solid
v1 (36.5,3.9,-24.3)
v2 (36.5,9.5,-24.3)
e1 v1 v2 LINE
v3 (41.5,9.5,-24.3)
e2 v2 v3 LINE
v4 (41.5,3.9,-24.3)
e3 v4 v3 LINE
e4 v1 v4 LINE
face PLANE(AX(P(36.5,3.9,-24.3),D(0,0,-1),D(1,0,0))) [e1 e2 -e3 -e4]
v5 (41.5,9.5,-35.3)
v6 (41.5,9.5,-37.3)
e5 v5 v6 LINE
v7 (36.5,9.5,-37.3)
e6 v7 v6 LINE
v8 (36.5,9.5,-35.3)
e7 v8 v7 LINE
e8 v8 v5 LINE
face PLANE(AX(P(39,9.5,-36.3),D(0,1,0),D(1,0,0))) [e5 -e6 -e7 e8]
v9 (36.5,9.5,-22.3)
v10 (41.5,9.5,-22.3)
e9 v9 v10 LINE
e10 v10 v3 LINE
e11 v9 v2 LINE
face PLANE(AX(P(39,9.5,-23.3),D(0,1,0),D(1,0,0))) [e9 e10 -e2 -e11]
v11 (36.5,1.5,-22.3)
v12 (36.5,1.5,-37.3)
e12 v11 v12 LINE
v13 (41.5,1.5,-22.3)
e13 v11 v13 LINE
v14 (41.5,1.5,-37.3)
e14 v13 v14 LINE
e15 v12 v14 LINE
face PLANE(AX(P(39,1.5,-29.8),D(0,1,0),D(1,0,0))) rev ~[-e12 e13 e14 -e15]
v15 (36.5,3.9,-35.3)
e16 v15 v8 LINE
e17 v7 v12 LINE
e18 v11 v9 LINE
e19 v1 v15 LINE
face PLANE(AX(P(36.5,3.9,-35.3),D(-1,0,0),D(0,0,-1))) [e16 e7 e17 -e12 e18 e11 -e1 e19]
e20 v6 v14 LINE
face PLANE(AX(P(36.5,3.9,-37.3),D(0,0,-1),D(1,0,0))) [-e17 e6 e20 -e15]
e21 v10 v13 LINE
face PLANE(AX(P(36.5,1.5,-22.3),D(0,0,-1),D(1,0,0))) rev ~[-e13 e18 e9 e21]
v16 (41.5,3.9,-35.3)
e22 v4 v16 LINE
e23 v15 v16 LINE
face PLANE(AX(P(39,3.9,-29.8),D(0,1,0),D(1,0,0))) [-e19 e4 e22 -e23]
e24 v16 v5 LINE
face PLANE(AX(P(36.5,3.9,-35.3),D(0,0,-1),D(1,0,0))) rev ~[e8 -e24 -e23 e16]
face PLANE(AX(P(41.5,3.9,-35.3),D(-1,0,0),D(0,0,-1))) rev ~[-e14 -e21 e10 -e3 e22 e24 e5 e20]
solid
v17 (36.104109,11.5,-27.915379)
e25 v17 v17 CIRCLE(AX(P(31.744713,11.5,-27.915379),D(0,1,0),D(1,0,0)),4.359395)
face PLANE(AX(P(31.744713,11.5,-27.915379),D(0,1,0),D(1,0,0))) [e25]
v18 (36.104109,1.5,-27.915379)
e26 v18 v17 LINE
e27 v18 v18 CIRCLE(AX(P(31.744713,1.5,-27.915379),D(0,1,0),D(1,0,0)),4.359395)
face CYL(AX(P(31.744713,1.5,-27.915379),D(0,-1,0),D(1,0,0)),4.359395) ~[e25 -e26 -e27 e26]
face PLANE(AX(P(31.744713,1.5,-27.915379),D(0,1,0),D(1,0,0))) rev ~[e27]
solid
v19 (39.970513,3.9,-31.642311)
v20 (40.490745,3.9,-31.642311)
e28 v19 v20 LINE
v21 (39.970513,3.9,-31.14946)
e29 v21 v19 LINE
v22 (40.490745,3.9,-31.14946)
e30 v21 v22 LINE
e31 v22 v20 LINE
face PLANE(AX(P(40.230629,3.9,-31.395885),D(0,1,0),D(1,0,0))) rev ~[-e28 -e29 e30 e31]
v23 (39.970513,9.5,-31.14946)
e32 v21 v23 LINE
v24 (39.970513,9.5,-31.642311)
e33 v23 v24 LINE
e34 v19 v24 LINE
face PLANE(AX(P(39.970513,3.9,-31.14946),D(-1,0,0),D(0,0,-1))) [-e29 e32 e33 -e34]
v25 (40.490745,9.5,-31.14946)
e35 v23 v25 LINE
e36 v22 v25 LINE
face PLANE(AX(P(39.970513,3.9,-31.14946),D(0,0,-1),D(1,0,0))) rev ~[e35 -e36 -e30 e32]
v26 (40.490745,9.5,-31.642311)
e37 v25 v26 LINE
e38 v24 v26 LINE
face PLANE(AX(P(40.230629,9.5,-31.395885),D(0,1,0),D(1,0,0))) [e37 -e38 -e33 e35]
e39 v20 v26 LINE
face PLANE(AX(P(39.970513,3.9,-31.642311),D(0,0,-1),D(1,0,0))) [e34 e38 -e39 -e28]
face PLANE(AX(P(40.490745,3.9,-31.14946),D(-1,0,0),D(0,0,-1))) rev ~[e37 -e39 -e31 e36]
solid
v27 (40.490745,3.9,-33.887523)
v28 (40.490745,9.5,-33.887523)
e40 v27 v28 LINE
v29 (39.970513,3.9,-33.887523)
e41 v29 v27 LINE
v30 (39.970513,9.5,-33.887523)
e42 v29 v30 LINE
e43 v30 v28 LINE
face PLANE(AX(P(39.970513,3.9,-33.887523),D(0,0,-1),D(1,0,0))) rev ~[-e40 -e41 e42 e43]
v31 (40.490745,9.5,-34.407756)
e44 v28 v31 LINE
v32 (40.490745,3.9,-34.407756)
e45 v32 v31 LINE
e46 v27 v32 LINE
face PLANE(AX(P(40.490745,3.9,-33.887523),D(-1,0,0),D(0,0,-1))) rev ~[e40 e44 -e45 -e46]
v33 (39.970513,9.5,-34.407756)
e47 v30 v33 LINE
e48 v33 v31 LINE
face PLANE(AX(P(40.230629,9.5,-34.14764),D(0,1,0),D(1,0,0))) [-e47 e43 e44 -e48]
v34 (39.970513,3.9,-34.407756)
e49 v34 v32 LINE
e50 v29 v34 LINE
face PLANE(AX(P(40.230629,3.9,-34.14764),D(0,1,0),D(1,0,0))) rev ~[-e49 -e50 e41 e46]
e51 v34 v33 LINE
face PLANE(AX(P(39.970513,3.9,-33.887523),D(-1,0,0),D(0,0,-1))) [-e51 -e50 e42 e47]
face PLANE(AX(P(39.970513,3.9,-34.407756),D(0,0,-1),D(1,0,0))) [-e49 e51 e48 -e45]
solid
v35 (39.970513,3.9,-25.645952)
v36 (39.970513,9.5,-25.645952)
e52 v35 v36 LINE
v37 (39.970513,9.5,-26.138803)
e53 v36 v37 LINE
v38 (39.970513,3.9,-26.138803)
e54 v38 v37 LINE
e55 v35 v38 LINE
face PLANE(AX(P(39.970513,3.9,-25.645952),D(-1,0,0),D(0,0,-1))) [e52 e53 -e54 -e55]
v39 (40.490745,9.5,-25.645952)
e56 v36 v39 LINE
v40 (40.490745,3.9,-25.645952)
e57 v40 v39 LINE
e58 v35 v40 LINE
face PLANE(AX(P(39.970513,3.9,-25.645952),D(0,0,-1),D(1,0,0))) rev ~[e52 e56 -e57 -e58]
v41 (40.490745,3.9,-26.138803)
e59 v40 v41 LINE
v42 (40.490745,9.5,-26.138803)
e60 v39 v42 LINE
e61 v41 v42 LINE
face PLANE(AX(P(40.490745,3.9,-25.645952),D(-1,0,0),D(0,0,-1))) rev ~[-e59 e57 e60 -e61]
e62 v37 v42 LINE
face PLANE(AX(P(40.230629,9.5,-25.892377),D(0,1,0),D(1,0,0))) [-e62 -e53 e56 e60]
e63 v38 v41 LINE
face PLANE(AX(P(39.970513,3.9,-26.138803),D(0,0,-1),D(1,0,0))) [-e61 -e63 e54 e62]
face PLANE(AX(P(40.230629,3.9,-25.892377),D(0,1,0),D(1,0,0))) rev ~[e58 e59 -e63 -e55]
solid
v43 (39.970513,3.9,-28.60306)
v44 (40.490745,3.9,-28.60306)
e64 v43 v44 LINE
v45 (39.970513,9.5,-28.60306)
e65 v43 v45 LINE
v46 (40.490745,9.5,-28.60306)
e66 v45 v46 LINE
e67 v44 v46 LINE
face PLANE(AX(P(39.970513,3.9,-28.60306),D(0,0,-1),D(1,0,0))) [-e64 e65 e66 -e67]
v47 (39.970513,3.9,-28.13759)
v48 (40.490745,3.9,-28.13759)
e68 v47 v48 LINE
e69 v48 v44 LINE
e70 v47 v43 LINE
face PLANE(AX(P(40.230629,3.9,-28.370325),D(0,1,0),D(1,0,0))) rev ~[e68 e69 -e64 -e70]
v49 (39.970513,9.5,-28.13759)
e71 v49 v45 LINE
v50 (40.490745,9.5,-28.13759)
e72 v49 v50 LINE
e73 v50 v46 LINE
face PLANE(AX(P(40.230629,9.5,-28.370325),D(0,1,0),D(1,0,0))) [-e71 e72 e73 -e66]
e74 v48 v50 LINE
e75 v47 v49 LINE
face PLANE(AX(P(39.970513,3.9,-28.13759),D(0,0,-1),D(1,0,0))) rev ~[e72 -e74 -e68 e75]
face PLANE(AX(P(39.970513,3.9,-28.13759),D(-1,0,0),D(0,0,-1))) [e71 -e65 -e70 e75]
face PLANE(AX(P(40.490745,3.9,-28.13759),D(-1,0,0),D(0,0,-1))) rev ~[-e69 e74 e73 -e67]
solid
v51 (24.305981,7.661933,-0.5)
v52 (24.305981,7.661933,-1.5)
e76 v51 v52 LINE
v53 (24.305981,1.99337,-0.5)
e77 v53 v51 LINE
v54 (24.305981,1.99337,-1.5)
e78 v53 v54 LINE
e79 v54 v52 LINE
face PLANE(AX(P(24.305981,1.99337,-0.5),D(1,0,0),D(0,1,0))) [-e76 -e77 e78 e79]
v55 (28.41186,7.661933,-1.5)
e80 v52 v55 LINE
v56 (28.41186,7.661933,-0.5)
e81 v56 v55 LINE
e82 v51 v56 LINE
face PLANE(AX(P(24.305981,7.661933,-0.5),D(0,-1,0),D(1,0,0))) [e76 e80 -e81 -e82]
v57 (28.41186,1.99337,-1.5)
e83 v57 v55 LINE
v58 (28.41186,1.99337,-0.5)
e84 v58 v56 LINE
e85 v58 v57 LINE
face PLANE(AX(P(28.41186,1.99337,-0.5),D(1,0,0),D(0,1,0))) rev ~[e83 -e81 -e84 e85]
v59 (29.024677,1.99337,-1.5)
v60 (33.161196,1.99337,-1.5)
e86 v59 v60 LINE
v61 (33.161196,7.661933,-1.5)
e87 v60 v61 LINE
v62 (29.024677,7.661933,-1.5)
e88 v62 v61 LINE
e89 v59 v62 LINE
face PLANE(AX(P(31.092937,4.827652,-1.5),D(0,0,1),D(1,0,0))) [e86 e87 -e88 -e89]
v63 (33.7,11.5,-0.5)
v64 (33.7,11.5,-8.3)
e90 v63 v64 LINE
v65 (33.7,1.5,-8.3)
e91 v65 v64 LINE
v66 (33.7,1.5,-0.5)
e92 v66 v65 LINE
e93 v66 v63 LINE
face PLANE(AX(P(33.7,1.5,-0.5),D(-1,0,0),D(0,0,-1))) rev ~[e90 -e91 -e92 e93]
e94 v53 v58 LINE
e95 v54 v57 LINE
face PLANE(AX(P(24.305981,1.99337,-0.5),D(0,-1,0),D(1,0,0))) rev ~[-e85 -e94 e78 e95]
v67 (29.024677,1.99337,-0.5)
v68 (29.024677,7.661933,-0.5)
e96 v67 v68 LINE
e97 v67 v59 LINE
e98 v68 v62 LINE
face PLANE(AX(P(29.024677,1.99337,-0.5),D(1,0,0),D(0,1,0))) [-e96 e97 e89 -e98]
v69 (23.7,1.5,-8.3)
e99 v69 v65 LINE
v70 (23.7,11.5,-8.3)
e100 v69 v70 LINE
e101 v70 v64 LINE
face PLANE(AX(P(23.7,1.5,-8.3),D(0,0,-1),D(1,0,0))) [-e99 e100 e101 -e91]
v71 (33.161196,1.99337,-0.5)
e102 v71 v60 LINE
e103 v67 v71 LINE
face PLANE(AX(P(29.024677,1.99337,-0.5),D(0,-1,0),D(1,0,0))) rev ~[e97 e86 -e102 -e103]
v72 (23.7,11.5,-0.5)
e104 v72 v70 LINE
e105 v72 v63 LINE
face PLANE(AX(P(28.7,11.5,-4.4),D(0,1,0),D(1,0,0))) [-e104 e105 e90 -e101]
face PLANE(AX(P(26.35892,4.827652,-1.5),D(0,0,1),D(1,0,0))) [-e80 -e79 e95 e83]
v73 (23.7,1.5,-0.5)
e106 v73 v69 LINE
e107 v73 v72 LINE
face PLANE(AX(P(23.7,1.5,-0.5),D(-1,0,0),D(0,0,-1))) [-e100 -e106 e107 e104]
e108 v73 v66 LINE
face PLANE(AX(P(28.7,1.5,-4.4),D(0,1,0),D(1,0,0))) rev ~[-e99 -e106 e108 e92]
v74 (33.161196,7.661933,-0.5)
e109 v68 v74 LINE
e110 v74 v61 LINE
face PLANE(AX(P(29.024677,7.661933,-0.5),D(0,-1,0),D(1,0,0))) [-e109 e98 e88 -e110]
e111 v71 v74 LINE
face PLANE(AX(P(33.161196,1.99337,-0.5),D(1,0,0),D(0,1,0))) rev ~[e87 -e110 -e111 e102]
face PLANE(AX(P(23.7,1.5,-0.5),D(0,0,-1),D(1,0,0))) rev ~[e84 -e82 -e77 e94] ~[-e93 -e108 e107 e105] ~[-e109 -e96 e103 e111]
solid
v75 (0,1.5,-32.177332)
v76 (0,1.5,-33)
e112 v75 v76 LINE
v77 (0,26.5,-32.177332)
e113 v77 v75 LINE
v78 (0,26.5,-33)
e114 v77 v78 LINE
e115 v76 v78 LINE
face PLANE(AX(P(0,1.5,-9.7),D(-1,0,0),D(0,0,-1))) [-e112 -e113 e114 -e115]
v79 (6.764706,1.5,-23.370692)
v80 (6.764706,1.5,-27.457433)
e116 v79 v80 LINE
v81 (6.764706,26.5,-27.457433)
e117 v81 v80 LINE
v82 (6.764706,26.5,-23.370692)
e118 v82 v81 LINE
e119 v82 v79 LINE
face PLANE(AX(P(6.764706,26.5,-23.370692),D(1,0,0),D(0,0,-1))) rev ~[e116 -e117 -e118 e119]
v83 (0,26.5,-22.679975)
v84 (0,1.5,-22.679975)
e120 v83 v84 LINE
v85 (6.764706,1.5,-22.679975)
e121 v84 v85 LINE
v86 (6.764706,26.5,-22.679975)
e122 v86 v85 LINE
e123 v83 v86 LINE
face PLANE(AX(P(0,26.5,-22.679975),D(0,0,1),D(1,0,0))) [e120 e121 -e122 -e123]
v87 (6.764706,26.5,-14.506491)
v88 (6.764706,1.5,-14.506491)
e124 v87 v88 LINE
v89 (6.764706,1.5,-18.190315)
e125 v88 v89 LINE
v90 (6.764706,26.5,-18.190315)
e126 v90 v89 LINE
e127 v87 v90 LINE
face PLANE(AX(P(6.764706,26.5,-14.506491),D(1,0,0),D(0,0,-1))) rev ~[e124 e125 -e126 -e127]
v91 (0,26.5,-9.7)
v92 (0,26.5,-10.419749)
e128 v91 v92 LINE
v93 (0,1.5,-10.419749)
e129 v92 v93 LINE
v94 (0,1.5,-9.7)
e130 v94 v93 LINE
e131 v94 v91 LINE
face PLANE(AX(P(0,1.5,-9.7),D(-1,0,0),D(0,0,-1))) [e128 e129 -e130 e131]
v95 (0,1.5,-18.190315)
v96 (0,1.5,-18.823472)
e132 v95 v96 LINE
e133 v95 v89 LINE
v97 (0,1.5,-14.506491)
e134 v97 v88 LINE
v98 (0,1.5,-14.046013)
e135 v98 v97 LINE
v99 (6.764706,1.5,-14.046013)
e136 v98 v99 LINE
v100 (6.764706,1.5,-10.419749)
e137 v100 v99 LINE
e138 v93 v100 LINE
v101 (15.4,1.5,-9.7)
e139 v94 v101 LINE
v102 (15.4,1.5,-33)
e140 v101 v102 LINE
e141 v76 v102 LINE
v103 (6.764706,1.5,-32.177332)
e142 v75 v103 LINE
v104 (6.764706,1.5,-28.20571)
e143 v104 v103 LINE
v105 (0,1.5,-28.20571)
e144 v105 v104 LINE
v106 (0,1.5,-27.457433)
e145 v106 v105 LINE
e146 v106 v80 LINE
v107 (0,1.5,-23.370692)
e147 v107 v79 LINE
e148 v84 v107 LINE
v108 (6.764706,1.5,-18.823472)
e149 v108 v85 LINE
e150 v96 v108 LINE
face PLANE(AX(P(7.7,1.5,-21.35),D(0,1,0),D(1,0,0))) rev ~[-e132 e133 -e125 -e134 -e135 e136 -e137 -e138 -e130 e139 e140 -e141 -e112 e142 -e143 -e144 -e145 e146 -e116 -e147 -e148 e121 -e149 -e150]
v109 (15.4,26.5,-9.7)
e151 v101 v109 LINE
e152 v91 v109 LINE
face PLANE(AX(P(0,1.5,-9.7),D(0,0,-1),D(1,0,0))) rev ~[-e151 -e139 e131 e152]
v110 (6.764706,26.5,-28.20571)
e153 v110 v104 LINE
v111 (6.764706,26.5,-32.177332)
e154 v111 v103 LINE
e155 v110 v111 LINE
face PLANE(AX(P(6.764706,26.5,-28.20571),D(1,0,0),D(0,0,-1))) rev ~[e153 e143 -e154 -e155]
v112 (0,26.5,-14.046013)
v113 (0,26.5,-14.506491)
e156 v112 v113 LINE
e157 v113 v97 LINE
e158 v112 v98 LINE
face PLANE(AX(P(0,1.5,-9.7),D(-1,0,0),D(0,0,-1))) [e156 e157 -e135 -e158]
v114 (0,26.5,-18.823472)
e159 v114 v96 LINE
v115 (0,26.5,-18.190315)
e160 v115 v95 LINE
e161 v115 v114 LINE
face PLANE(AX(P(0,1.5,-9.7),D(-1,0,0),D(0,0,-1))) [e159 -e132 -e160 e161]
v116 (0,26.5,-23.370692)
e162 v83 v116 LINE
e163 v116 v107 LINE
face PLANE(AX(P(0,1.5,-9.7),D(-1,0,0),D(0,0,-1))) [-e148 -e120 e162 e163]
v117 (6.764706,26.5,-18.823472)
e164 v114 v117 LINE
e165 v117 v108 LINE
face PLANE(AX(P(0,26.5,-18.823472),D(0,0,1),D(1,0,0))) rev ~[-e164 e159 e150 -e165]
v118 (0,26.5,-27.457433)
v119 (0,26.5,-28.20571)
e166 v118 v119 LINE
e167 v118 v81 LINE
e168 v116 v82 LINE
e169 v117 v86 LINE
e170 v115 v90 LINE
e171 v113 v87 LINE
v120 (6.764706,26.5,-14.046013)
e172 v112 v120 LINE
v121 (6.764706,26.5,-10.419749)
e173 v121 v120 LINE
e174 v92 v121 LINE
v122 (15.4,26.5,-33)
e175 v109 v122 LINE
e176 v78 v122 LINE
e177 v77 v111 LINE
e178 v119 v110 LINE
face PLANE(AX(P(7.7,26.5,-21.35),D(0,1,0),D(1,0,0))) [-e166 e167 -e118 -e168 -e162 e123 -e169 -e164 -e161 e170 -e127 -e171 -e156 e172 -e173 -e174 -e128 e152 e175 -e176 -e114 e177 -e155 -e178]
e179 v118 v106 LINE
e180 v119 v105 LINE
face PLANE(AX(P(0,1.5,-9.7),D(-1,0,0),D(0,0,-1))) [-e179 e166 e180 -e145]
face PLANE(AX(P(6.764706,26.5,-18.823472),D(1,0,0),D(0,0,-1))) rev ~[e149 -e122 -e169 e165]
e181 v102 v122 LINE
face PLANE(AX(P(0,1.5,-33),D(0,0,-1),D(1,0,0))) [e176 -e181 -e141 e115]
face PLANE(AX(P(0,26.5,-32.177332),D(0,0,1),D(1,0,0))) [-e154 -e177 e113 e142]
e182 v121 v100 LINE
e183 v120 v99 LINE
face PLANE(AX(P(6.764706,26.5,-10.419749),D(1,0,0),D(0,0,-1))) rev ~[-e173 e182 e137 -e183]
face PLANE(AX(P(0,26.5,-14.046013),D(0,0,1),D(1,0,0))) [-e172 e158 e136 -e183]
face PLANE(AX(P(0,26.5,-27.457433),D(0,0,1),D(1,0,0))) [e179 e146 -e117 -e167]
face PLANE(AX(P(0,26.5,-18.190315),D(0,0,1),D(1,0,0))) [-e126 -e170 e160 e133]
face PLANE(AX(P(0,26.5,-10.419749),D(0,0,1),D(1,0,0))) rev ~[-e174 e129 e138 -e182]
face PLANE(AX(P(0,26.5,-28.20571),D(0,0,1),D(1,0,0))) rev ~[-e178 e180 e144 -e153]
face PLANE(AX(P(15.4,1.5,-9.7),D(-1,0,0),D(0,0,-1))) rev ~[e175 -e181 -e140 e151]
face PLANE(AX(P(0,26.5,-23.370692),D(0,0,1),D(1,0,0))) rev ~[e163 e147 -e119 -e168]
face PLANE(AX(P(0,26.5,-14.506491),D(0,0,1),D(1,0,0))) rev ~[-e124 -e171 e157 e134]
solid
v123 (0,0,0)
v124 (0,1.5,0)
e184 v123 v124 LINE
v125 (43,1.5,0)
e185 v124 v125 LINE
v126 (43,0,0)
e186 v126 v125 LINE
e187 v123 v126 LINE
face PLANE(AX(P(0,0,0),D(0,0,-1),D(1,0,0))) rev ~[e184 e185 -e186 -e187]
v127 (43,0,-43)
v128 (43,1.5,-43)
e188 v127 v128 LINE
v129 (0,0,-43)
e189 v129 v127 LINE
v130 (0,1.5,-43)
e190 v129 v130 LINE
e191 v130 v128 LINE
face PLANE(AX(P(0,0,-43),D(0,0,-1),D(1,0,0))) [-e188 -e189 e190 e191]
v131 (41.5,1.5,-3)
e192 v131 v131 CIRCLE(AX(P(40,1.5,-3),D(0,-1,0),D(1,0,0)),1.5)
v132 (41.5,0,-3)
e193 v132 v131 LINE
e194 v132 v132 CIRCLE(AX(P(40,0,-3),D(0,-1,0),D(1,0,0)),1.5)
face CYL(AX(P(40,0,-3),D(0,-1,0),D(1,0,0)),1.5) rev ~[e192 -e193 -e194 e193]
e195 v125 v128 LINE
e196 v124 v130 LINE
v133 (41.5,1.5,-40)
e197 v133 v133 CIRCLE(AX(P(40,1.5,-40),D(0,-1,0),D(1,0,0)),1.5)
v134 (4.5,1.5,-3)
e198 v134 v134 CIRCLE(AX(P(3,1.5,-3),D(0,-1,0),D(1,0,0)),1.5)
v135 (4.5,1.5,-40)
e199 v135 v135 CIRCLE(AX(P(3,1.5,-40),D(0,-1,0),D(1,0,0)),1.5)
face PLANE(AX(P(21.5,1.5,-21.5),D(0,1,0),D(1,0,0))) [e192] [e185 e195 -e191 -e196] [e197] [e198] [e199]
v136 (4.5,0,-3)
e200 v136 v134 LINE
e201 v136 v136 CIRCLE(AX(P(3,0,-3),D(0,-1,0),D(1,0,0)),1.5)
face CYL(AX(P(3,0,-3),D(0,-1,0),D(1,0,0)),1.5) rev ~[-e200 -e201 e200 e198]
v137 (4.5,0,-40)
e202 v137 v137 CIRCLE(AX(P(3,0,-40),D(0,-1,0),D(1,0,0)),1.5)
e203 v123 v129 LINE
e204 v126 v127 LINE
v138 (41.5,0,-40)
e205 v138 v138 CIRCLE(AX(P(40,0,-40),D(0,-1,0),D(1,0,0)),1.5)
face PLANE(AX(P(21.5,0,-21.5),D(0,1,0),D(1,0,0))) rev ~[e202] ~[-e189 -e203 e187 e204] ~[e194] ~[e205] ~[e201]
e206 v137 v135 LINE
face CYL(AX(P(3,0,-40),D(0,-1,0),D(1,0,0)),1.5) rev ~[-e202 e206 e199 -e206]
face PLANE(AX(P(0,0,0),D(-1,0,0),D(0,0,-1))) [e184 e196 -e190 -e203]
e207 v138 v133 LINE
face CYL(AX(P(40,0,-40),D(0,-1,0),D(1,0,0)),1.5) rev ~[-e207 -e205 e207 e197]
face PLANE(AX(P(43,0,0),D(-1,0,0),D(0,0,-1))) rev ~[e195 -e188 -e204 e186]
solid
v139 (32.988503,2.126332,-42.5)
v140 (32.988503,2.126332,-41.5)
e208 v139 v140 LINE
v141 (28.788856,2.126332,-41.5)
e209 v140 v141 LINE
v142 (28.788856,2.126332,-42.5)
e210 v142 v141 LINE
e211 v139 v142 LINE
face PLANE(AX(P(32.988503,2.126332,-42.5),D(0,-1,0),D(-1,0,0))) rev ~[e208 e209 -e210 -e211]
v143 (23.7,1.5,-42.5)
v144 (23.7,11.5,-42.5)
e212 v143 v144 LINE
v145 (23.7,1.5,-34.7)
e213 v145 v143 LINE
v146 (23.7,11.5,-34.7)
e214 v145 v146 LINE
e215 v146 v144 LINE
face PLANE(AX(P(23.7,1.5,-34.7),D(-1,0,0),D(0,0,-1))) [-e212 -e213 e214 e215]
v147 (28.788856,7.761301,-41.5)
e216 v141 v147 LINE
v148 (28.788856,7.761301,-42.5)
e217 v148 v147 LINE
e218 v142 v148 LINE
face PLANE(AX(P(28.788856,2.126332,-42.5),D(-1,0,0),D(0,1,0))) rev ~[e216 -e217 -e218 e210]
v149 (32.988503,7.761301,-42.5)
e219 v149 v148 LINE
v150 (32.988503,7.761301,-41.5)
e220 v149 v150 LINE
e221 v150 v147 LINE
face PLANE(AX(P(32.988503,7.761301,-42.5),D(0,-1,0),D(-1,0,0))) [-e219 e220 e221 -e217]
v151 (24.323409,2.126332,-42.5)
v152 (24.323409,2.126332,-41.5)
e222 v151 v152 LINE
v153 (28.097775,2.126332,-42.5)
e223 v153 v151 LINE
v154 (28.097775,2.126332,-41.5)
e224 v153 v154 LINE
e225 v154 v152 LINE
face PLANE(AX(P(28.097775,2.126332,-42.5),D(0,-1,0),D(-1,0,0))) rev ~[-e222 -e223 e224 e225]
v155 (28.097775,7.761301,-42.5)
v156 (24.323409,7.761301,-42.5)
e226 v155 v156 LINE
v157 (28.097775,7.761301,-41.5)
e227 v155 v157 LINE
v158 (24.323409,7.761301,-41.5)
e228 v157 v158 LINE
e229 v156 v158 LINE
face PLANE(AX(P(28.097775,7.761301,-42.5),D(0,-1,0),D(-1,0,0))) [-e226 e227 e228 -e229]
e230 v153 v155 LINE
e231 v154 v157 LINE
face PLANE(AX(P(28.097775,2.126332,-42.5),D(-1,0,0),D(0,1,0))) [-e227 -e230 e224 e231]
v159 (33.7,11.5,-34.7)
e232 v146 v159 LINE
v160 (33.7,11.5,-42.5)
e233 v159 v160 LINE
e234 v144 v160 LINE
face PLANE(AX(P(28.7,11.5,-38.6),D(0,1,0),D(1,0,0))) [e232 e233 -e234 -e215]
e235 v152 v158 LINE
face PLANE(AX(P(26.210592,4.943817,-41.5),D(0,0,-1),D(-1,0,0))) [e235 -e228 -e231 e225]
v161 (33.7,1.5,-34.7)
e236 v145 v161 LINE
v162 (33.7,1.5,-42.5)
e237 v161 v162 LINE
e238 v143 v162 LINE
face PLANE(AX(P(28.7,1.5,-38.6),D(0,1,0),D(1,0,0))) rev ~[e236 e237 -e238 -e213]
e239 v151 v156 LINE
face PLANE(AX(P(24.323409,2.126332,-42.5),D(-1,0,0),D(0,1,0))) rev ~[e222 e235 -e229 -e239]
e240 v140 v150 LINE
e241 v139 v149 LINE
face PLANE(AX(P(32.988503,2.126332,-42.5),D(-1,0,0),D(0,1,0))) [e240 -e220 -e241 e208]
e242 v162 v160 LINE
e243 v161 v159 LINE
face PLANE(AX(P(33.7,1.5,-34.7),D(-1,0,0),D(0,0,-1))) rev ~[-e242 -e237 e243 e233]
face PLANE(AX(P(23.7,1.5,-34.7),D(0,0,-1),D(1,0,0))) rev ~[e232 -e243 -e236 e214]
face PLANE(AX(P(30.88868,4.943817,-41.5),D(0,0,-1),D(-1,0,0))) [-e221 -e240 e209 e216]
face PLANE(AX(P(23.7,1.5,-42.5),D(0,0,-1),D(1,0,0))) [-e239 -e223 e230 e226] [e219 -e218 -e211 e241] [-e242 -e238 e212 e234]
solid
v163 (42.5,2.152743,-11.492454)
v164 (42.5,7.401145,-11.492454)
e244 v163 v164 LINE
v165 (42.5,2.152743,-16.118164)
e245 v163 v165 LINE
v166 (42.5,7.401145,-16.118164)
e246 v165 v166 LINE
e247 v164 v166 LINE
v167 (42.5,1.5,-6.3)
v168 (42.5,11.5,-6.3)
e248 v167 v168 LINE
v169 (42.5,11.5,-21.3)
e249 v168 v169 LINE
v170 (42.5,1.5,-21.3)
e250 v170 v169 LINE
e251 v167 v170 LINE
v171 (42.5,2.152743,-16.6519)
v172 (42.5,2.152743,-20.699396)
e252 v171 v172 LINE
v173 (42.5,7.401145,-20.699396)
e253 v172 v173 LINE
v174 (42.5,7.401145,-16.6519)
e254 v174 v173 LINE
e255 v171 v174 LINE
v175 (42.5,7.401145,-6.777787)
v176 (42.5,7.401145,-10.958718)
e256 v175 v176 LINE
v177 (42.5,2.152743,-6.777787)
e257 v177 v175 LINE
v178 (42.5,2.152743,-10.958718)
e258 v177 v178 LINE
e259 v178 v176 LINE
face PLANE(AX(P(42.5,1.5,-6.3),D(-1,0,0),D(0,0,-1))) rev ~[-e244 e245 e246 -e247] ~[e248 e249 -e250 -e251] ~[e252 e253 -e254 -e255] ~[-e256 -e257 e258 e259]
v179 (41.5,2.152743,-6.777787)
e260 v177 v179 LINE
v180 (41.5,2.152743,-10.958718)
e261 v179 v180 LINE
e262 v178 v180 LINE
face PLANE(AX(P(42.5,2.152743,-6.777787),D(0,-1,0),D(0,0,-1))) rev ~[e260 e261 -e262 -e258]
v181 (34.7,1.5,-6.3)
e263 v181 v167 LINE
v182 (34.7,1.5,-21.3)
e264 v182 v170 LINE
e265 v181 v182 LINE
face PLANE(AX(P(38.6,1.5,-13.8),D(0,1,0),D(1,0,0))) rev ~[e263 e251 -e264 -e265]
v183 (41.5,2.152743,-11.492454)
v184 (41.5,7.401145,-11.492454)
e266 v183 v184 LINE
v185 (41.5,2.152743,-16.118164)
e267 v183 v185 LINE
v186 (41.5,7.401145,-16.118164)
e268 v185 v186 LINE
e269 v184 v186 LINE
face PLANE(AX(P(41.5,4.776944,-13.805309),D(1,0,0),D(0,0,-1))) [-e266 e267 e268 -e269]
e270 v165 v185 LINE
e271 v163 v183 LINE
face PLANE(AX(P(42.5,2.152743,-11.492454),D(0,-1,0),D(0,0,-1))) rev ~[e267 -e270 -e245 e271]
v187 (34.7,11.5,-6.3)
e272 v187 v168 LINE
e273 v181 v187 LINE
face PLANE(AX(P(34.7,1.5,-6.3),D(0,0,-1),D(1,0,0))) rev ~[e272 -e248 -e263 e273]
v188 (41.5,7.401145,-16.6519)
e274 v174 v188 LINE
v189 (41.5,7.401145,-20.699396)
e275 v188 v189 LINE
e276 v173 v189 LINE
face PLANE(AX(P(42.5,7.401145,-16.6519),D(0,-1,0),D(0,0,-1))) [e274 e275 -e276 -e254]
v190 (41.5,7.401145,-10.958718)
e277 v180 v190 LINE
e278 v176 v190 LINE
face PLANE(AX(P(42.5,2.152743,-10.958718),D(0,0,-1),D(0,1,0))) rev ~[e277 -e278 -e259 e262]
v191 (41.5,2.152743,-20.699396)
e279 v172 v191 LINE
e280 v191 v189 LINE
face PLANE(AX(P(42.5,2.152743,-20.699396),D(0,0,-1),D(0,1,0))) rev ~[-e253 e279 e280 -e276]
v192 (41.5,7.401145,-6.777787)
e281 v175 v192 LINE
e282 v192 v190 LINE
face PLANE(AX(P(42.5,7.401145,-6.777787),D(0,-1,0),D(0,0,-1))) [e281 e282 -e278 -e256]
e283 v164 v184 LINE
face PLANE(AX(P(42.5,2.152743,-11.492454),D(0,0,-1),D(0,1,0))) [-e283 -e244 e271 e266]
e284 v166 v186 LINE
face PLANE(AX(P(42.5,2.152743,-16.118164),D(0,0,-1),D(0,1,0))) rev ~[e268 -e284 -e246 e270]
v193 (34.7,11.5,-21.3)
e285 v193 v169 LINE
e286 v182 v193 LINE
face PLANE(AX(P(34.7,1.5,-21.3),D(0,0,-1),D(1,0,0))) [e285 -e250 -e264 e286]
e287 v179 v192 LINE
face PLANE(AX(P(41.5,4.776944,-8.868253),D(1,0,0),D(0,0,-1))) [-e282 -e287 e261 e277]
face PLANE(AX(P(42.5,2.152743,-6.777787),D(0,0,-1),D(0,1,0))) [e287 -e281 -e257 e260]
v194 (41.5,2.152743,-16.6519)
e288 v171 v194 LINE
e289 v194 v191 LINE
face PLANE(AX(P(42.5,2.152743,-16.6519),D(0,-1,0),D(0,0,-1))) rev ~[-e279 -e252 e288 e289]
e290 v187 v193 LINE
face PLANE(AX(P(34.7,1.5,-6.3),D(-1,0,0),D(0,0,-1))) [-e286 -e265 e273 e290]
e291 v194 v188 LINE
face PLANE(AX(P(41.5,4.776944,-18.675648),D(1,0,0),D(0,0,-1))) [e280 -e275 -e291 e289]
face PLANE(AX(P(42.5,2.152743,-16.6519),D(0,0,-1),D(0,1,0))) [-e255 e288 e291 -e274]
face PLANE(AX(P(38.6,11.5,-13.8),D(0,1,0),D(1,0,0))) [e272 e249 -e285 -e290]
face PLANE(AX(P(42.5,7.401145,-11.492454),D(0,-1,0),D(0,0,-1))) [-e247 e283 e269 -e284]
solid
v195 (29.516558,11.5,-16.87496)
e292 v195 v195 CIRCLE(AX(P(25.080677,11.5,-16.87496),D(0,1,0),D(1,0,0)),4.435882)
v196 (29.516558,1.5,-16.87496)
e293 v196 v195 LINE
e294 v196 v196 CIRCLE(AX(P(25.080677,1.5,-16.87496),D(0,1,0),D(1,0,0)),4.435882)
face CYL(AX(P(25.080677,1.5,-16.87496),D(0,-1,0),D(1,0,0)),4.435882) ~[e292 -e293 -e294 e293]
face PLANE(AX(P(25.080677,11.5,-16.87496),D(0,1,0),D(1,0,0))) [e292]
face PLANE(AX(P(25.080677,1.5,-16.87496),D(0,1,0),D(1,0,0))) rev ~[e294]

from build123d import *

# Parameters (mm, degrees)
SKETCH_1_W          = 43
SKETCH_1_H          = 43
EXTRUDE_1_DEPTH     = 1.5
SKETCH_2_W          = 7.8
SKETCH_2_H          = 15
EXTRUDE_2_DEPTH     = 10
SKETCH_2_W_2        = 10
SKETCH_2_H_2        = 7.8
EXTRUDE_2_2_DEPTH   = 10
EXTRUDE_2_3_DEPTH   = 10
SKETCH_3_W          = 15.4
SKETCH_3_H          = 23.3
EXTRUDE_3_DEPTH     = 25
SKETCH_4_W          = 6.764705707
SKETCH_4_H          = 3.97162229
SKETCH_4_H_2        = 4.086741777
SKETCH_4_H_3        = 3.856502803
SKETCH_4_H_4        = 3.683823573
SKETCH_4_H_5        = 3.626263829
CUT_EXTRUDE_1_DEPTH = 25
SKETCH_5_R          = 4.359395477
EXTRUDE_4_DEPTH     = 10
SKETCH_5_R_2        = 4.435881934
EXTRUDE_4_2_DEPTH   = 10
SKETCH_6_W          = 4.180930447
SKETCH_6_H          = 5.248402051
SKETCH_6_W_2        = 4.625710282
SKETCH_6_W_3        = 4.047496497
CUT_EXTRUDE_2_DEPTH = 1
SKETCH_8_W          = 4.105878298
SKETCH_8_H          = 5.668563322
SKETCH_8_W_2        = 4.136519181
CUT_EXTRUDE_3_DEPTH = 1
SKETCH_9_W          = 4.199646783
SKETCH_9_H          = 5.634969101
SKETCH_9_W_2        = 3.774366096
CUT_EXTRUDE_4_DEPTH = 1
SKETCH_10_R         = 1.5
CUT_EXTRUDE_5_DEPTH = 3
SKETCH_11_W         = 5
SKETCH_11_H         = 15
EXTRUDE_5_DEPTH     = 2.4
SKETCH_12_W         = 5
SKETCH_12_H         = 2
EXTRUDE_6_DEPTH     = 5.6
SKETCH_13_W         = 0.520232118
SKETCH_13_H         = 0.520232118
EXTRUDE_7_DEPTH     = 5.6
SKETCH_13_H_2       = 0.492851481
EXTRUDE_7_2_DEPTH   = 5.6
SKETCH_13_H_3       = 0.465470842
EXTRUDE_7_3_DEPTH   = 5.6
SKETCH_13_H_4       = 0.49285148
EXTRUDE_7_4_DEPTH   = 5.6


with BuildPart() as part:
    # 草圖1 → 填料-伸長1 (new body)
    with BuildSketch(Plane(origin=(0, 0, 0), x_dir=(1, 0, 0), z_dir=(0, 1, 0))):
        with Locations((21.5, 21.5)):
            Rectangle(SKETCH_1_W, SKETCH_1_H)
    extrude(amount=EXTRUDE_1_DEPTH)

    # 草圖10 → 除料-伸長5 (cut)
    with BuildSketch(Plane.XZ):
        with Locations((40, -3)):
            Circle(SKETCH_10_R)
        with Locations((3, -3)):
            Circle(SKETCH_10_R)
        with Locations((3, -40)):
            Circle(SKETCH_10_R)
        with Locations((40, -40)):
            Circle(SKETCH_10_R)
    extrude(amount=-CUT_EXTRUDE_5_DEPTH, mode=Mode.SUBTRACT)


with BuildPart() as body_2:
    # 草圖2 → 填料-伸長2 (new body)
    with BuildSketch(Plane(origin=(0, 1.5, 0), x_dir=(1, 0, 0), z_dir=(0, 1, 0))):
        with Locations((38.6, 13.8)):
            Rectangle(SKETCH_2_W, SKETCH_2_H)
    extrude(amount=EXTRUDE_2_DEPTH)

    # 草圖6 → 除料-伸長2 (cut)
    with BuildSketch(Plane(origin=(42.5, 0, 0), x_dir=(0, 0, -1), z_dir=(1, 0, 0))):
        with Locations((8.868252691, 4.776944146)):
            Rectangle(SKETCH_6_W, SKETCH_6_H)
        with Locations((13.805308857, 4.776944146)):
            Rectangle(SKETCH_6_W_2, SKETCH_6_H)
        with Locations((18.675648049, 4.776944146)):
            Rectangle(SKETCH_6_W_3, SKETCH_6_H)
    extrude(amount=-CUT_EXTRUDE_2_DEPTH, mode=Mode.SUBTRACT)


with BuildPart() as body_3:
    # 草圖2 → Extrude 2 2 (new body)
    with BuildSketch(Plane(origin=(0, 1.5, 0), x_dir=(1, 0, 0), z_dir=(0, 1, 0))):
        with Locations((28.7, 4.4)):
            Rectangle(SKETCH_2_W_2, SKETCH_2_H_2)
    extrude(amount=EXTRUDE_2_2_DEPTH)

    # 草圖8 → 除料-伸長3 (cut)
    with BuildSketch(Plane.XY.offset(-0.5)):
        with Locations((26.358920359, 4.827651605)):
            Rectangle(SKETCH_8_W, SKETCH_8_H)
        with Locations((31.092936755, 4.827651605)):
            Rectangle(SKETCH_8_W_2, SKETCH_8_H)
    extrude(amount=-CUT_EXTRUDE_3_DEPTH, mode=Mode.SUBTRACT)


with BuildPart() as body_4:
    # 草圖2 → Extrude 2 3 (new body)
    with BuildSketch(Plane(origin=(0, 1.5, 0), x_dir=(1, 0, 0), z_dir=(0, 1, 0))):
        with Locations((28.7, 38.6)):
            Rectangle(SKETCH_2_W_2, SKETCH_2_H_2)
    extrude(amount=EXTRUDE_2_3_DEPTH)

    # 草圖9 → 除料-伸長4 (cut)
    with BuildSketch(Plane(origin=(0, 0, -42.5), x_dir=(-1, 0, 0), z_dir=(0, 0, -1))):
        with Locations((-30.888679621, 4.943816645)):
            Rectangle(SKETCH_9_W, SKETCH_9_H)
        with Locations((-26.210592066, 4.943816645)):
            Rectangle(SKETCH_9_W_2, SKETCH_9_H)
    extrude(amount=-CUT_EXTRUDE_4_DEPTH, mode=Mode.SUBTRACT)


with BuildPart() as body_5:
    # 草圖3 → 填料-伸長3 (new body)
    with BuildSketch(Plane(origin=(0, 1.5, 0), x_dir=(1, 0, 0), z_dir=(0, 1, 0))):
        with Locations((7.7, 21.35)):
            Rectangle(SKETCH_3_W, SKETCH_3_H)
    extrude(amount=EXTRUDE_3_DEPTH)

    # 草圖4 → 除料-伸長1 (cut)
    with BuildSketch(Plane(origin=(0, 26.5, 0), x_dir=(1, 0, 0), z_dir=(0, 1, 0))):
        with Locations((3.382352854, 30.191521243)):
            Rectangle(SKETCH_4_W, SKETCH_4_H)
        with Locations((3.382352854, 25.414062547)):
            Rectangle(SKETCH_4_W, SKETCH_4_H_2)
        with Locations((3.382352854, 20.751723336)):
            Rectangle(SKETCH_4_W, SKETCH_4_H_3)
        with Locations((3.382352854, 16.348402972)):
            Rectangle(SKETCH_4_W, SKETCH_4_H_4)
        with Locations((3.382352854, 12.232881324)):
            Rectangle(SKETCH_4_W, SKETCH_4_H_5)
    extrude(amount=-CUT_EXTRUDE_1_DEPTH, mode=Mode.SUBTRACT)


with BuildPart() as body_6:
    # 草圖5 → 填料-伸長4 (new body)
    with BuildSketch(Plane(origin=(0, 1.5, 0), x_dir=(1, 0, 0), z_dir=(0, 1, 0))):
        with Locations((31.744713357, 27.915378753)):
            Circle(SKETCH_5_R)
    extrude(amount=EXTRUDE_4_DEPTH)


with BuildPart() as body_7:
    # 草圖5 → Extrude 4 2 (new body)
    with BuildSketch(Plane(origin=(0, 1.5, 0), x_dir=(1, 0, 0), z_dir=(0, 1, 0))):
        with Locations((25.080676513, 16.874959504)):
            Circle(SKETCH_5_R_2)
    extrude(amount=EXTRUDE_4_2_DEPTH)


with BuildPart() as body_8:
    # 草圖11 → 填料-伸長5 (new body)
    with BuildSketch(Plane(origin=(0, 1.5, 0), x_dir=(1, 0, 0), z_dir=(0, 1, 0))):
        with Locations((39, 29.8)):
            Rectangle(SKETCH_11_W, SKETCH_11_H)
    extrude(amount=EXTRUDE_5_DEPTH)

    # 草圖12 → 填料-伸長6 (add)
    with BuildSketch(Plane(origin=(0, 3.9, 0), x_dir=(1, 0, 0), z_dir=(0, 1, 0))):
        with Locations((39, 36.3)):
            Rectangle(SKETCH_12_W, SKETCH_12_H)
        with Locations((39, 23.3)):
            Rectangle(SKETCH_12_W, SKETCH_12_H)
    extrude(amount=EXTRUDE_6_DEPTH)


with BuildPart() as body_9:
    # 草圖13 → 填料-伸長7 (new body)
    with BuildSketch(Plane(origin=(0, 3.9, 0), x_dir=(1, 0, 0), z_dir=(0, 1, 0))):
        with Locations((40.230628725, 34.147639552)):
            Rectangle(SKETCH_13_W, SKETCH_13_H)
    extrude(amount=EXTRUDE_7_DEPTH)


with BuildPart() as body_10:
    # 草圖13 → Extrude 7 2 (new body)
    with BuildSketch(Plane(origin=(0, 3.9, 0), x_dir=(1, 0, 0), z_dir=(0, 1, 0))):
        with Locations((40.230628725, 31.395885455)):
            Rectangle(SKETCH_13_W, SKETCH_13_H_2)
    extrude(amount=EXTRUDE_7_2_DEPTH)


with BuildPart() as body_11:
    # 草圖13 → Extrude 7 3 (new body)
    with BuildSketch(Plane(origin=(0, 3.9, 0), x_dir=(1, 0, 0), z_dir=(0, 1, 0))):
        with Locations((40.230628725, 28.370324979)):
            Rectangle(SKETCH_13_W, SKETCH_13_H_3)
    extrude(amount=EXTRUDE_7_3_DEPTH)


with BuildPart() as body_12:
    # 草圖13 → Extrude 7 4 (new body)
    with BuildSketch(Plane(origin=(0, 3.9, 0), x_dir=(1, 0, 0), z_dir=(0, 1, 0))):
        with Locations((40.230628725, 25.892377259)):
            Rectangle(SKETCH_13_W, SKETCH_13_H_4)
    extrude(amount=EXTRUDE_7_4_DEPTH)


solid = Compound([part.part, body_2.part, body_3.part, body_4.part, body_5.part, body_6.part, body_7.part, body_8.part, body_9.part, body_10.part, body_11.part, body_12.part])
